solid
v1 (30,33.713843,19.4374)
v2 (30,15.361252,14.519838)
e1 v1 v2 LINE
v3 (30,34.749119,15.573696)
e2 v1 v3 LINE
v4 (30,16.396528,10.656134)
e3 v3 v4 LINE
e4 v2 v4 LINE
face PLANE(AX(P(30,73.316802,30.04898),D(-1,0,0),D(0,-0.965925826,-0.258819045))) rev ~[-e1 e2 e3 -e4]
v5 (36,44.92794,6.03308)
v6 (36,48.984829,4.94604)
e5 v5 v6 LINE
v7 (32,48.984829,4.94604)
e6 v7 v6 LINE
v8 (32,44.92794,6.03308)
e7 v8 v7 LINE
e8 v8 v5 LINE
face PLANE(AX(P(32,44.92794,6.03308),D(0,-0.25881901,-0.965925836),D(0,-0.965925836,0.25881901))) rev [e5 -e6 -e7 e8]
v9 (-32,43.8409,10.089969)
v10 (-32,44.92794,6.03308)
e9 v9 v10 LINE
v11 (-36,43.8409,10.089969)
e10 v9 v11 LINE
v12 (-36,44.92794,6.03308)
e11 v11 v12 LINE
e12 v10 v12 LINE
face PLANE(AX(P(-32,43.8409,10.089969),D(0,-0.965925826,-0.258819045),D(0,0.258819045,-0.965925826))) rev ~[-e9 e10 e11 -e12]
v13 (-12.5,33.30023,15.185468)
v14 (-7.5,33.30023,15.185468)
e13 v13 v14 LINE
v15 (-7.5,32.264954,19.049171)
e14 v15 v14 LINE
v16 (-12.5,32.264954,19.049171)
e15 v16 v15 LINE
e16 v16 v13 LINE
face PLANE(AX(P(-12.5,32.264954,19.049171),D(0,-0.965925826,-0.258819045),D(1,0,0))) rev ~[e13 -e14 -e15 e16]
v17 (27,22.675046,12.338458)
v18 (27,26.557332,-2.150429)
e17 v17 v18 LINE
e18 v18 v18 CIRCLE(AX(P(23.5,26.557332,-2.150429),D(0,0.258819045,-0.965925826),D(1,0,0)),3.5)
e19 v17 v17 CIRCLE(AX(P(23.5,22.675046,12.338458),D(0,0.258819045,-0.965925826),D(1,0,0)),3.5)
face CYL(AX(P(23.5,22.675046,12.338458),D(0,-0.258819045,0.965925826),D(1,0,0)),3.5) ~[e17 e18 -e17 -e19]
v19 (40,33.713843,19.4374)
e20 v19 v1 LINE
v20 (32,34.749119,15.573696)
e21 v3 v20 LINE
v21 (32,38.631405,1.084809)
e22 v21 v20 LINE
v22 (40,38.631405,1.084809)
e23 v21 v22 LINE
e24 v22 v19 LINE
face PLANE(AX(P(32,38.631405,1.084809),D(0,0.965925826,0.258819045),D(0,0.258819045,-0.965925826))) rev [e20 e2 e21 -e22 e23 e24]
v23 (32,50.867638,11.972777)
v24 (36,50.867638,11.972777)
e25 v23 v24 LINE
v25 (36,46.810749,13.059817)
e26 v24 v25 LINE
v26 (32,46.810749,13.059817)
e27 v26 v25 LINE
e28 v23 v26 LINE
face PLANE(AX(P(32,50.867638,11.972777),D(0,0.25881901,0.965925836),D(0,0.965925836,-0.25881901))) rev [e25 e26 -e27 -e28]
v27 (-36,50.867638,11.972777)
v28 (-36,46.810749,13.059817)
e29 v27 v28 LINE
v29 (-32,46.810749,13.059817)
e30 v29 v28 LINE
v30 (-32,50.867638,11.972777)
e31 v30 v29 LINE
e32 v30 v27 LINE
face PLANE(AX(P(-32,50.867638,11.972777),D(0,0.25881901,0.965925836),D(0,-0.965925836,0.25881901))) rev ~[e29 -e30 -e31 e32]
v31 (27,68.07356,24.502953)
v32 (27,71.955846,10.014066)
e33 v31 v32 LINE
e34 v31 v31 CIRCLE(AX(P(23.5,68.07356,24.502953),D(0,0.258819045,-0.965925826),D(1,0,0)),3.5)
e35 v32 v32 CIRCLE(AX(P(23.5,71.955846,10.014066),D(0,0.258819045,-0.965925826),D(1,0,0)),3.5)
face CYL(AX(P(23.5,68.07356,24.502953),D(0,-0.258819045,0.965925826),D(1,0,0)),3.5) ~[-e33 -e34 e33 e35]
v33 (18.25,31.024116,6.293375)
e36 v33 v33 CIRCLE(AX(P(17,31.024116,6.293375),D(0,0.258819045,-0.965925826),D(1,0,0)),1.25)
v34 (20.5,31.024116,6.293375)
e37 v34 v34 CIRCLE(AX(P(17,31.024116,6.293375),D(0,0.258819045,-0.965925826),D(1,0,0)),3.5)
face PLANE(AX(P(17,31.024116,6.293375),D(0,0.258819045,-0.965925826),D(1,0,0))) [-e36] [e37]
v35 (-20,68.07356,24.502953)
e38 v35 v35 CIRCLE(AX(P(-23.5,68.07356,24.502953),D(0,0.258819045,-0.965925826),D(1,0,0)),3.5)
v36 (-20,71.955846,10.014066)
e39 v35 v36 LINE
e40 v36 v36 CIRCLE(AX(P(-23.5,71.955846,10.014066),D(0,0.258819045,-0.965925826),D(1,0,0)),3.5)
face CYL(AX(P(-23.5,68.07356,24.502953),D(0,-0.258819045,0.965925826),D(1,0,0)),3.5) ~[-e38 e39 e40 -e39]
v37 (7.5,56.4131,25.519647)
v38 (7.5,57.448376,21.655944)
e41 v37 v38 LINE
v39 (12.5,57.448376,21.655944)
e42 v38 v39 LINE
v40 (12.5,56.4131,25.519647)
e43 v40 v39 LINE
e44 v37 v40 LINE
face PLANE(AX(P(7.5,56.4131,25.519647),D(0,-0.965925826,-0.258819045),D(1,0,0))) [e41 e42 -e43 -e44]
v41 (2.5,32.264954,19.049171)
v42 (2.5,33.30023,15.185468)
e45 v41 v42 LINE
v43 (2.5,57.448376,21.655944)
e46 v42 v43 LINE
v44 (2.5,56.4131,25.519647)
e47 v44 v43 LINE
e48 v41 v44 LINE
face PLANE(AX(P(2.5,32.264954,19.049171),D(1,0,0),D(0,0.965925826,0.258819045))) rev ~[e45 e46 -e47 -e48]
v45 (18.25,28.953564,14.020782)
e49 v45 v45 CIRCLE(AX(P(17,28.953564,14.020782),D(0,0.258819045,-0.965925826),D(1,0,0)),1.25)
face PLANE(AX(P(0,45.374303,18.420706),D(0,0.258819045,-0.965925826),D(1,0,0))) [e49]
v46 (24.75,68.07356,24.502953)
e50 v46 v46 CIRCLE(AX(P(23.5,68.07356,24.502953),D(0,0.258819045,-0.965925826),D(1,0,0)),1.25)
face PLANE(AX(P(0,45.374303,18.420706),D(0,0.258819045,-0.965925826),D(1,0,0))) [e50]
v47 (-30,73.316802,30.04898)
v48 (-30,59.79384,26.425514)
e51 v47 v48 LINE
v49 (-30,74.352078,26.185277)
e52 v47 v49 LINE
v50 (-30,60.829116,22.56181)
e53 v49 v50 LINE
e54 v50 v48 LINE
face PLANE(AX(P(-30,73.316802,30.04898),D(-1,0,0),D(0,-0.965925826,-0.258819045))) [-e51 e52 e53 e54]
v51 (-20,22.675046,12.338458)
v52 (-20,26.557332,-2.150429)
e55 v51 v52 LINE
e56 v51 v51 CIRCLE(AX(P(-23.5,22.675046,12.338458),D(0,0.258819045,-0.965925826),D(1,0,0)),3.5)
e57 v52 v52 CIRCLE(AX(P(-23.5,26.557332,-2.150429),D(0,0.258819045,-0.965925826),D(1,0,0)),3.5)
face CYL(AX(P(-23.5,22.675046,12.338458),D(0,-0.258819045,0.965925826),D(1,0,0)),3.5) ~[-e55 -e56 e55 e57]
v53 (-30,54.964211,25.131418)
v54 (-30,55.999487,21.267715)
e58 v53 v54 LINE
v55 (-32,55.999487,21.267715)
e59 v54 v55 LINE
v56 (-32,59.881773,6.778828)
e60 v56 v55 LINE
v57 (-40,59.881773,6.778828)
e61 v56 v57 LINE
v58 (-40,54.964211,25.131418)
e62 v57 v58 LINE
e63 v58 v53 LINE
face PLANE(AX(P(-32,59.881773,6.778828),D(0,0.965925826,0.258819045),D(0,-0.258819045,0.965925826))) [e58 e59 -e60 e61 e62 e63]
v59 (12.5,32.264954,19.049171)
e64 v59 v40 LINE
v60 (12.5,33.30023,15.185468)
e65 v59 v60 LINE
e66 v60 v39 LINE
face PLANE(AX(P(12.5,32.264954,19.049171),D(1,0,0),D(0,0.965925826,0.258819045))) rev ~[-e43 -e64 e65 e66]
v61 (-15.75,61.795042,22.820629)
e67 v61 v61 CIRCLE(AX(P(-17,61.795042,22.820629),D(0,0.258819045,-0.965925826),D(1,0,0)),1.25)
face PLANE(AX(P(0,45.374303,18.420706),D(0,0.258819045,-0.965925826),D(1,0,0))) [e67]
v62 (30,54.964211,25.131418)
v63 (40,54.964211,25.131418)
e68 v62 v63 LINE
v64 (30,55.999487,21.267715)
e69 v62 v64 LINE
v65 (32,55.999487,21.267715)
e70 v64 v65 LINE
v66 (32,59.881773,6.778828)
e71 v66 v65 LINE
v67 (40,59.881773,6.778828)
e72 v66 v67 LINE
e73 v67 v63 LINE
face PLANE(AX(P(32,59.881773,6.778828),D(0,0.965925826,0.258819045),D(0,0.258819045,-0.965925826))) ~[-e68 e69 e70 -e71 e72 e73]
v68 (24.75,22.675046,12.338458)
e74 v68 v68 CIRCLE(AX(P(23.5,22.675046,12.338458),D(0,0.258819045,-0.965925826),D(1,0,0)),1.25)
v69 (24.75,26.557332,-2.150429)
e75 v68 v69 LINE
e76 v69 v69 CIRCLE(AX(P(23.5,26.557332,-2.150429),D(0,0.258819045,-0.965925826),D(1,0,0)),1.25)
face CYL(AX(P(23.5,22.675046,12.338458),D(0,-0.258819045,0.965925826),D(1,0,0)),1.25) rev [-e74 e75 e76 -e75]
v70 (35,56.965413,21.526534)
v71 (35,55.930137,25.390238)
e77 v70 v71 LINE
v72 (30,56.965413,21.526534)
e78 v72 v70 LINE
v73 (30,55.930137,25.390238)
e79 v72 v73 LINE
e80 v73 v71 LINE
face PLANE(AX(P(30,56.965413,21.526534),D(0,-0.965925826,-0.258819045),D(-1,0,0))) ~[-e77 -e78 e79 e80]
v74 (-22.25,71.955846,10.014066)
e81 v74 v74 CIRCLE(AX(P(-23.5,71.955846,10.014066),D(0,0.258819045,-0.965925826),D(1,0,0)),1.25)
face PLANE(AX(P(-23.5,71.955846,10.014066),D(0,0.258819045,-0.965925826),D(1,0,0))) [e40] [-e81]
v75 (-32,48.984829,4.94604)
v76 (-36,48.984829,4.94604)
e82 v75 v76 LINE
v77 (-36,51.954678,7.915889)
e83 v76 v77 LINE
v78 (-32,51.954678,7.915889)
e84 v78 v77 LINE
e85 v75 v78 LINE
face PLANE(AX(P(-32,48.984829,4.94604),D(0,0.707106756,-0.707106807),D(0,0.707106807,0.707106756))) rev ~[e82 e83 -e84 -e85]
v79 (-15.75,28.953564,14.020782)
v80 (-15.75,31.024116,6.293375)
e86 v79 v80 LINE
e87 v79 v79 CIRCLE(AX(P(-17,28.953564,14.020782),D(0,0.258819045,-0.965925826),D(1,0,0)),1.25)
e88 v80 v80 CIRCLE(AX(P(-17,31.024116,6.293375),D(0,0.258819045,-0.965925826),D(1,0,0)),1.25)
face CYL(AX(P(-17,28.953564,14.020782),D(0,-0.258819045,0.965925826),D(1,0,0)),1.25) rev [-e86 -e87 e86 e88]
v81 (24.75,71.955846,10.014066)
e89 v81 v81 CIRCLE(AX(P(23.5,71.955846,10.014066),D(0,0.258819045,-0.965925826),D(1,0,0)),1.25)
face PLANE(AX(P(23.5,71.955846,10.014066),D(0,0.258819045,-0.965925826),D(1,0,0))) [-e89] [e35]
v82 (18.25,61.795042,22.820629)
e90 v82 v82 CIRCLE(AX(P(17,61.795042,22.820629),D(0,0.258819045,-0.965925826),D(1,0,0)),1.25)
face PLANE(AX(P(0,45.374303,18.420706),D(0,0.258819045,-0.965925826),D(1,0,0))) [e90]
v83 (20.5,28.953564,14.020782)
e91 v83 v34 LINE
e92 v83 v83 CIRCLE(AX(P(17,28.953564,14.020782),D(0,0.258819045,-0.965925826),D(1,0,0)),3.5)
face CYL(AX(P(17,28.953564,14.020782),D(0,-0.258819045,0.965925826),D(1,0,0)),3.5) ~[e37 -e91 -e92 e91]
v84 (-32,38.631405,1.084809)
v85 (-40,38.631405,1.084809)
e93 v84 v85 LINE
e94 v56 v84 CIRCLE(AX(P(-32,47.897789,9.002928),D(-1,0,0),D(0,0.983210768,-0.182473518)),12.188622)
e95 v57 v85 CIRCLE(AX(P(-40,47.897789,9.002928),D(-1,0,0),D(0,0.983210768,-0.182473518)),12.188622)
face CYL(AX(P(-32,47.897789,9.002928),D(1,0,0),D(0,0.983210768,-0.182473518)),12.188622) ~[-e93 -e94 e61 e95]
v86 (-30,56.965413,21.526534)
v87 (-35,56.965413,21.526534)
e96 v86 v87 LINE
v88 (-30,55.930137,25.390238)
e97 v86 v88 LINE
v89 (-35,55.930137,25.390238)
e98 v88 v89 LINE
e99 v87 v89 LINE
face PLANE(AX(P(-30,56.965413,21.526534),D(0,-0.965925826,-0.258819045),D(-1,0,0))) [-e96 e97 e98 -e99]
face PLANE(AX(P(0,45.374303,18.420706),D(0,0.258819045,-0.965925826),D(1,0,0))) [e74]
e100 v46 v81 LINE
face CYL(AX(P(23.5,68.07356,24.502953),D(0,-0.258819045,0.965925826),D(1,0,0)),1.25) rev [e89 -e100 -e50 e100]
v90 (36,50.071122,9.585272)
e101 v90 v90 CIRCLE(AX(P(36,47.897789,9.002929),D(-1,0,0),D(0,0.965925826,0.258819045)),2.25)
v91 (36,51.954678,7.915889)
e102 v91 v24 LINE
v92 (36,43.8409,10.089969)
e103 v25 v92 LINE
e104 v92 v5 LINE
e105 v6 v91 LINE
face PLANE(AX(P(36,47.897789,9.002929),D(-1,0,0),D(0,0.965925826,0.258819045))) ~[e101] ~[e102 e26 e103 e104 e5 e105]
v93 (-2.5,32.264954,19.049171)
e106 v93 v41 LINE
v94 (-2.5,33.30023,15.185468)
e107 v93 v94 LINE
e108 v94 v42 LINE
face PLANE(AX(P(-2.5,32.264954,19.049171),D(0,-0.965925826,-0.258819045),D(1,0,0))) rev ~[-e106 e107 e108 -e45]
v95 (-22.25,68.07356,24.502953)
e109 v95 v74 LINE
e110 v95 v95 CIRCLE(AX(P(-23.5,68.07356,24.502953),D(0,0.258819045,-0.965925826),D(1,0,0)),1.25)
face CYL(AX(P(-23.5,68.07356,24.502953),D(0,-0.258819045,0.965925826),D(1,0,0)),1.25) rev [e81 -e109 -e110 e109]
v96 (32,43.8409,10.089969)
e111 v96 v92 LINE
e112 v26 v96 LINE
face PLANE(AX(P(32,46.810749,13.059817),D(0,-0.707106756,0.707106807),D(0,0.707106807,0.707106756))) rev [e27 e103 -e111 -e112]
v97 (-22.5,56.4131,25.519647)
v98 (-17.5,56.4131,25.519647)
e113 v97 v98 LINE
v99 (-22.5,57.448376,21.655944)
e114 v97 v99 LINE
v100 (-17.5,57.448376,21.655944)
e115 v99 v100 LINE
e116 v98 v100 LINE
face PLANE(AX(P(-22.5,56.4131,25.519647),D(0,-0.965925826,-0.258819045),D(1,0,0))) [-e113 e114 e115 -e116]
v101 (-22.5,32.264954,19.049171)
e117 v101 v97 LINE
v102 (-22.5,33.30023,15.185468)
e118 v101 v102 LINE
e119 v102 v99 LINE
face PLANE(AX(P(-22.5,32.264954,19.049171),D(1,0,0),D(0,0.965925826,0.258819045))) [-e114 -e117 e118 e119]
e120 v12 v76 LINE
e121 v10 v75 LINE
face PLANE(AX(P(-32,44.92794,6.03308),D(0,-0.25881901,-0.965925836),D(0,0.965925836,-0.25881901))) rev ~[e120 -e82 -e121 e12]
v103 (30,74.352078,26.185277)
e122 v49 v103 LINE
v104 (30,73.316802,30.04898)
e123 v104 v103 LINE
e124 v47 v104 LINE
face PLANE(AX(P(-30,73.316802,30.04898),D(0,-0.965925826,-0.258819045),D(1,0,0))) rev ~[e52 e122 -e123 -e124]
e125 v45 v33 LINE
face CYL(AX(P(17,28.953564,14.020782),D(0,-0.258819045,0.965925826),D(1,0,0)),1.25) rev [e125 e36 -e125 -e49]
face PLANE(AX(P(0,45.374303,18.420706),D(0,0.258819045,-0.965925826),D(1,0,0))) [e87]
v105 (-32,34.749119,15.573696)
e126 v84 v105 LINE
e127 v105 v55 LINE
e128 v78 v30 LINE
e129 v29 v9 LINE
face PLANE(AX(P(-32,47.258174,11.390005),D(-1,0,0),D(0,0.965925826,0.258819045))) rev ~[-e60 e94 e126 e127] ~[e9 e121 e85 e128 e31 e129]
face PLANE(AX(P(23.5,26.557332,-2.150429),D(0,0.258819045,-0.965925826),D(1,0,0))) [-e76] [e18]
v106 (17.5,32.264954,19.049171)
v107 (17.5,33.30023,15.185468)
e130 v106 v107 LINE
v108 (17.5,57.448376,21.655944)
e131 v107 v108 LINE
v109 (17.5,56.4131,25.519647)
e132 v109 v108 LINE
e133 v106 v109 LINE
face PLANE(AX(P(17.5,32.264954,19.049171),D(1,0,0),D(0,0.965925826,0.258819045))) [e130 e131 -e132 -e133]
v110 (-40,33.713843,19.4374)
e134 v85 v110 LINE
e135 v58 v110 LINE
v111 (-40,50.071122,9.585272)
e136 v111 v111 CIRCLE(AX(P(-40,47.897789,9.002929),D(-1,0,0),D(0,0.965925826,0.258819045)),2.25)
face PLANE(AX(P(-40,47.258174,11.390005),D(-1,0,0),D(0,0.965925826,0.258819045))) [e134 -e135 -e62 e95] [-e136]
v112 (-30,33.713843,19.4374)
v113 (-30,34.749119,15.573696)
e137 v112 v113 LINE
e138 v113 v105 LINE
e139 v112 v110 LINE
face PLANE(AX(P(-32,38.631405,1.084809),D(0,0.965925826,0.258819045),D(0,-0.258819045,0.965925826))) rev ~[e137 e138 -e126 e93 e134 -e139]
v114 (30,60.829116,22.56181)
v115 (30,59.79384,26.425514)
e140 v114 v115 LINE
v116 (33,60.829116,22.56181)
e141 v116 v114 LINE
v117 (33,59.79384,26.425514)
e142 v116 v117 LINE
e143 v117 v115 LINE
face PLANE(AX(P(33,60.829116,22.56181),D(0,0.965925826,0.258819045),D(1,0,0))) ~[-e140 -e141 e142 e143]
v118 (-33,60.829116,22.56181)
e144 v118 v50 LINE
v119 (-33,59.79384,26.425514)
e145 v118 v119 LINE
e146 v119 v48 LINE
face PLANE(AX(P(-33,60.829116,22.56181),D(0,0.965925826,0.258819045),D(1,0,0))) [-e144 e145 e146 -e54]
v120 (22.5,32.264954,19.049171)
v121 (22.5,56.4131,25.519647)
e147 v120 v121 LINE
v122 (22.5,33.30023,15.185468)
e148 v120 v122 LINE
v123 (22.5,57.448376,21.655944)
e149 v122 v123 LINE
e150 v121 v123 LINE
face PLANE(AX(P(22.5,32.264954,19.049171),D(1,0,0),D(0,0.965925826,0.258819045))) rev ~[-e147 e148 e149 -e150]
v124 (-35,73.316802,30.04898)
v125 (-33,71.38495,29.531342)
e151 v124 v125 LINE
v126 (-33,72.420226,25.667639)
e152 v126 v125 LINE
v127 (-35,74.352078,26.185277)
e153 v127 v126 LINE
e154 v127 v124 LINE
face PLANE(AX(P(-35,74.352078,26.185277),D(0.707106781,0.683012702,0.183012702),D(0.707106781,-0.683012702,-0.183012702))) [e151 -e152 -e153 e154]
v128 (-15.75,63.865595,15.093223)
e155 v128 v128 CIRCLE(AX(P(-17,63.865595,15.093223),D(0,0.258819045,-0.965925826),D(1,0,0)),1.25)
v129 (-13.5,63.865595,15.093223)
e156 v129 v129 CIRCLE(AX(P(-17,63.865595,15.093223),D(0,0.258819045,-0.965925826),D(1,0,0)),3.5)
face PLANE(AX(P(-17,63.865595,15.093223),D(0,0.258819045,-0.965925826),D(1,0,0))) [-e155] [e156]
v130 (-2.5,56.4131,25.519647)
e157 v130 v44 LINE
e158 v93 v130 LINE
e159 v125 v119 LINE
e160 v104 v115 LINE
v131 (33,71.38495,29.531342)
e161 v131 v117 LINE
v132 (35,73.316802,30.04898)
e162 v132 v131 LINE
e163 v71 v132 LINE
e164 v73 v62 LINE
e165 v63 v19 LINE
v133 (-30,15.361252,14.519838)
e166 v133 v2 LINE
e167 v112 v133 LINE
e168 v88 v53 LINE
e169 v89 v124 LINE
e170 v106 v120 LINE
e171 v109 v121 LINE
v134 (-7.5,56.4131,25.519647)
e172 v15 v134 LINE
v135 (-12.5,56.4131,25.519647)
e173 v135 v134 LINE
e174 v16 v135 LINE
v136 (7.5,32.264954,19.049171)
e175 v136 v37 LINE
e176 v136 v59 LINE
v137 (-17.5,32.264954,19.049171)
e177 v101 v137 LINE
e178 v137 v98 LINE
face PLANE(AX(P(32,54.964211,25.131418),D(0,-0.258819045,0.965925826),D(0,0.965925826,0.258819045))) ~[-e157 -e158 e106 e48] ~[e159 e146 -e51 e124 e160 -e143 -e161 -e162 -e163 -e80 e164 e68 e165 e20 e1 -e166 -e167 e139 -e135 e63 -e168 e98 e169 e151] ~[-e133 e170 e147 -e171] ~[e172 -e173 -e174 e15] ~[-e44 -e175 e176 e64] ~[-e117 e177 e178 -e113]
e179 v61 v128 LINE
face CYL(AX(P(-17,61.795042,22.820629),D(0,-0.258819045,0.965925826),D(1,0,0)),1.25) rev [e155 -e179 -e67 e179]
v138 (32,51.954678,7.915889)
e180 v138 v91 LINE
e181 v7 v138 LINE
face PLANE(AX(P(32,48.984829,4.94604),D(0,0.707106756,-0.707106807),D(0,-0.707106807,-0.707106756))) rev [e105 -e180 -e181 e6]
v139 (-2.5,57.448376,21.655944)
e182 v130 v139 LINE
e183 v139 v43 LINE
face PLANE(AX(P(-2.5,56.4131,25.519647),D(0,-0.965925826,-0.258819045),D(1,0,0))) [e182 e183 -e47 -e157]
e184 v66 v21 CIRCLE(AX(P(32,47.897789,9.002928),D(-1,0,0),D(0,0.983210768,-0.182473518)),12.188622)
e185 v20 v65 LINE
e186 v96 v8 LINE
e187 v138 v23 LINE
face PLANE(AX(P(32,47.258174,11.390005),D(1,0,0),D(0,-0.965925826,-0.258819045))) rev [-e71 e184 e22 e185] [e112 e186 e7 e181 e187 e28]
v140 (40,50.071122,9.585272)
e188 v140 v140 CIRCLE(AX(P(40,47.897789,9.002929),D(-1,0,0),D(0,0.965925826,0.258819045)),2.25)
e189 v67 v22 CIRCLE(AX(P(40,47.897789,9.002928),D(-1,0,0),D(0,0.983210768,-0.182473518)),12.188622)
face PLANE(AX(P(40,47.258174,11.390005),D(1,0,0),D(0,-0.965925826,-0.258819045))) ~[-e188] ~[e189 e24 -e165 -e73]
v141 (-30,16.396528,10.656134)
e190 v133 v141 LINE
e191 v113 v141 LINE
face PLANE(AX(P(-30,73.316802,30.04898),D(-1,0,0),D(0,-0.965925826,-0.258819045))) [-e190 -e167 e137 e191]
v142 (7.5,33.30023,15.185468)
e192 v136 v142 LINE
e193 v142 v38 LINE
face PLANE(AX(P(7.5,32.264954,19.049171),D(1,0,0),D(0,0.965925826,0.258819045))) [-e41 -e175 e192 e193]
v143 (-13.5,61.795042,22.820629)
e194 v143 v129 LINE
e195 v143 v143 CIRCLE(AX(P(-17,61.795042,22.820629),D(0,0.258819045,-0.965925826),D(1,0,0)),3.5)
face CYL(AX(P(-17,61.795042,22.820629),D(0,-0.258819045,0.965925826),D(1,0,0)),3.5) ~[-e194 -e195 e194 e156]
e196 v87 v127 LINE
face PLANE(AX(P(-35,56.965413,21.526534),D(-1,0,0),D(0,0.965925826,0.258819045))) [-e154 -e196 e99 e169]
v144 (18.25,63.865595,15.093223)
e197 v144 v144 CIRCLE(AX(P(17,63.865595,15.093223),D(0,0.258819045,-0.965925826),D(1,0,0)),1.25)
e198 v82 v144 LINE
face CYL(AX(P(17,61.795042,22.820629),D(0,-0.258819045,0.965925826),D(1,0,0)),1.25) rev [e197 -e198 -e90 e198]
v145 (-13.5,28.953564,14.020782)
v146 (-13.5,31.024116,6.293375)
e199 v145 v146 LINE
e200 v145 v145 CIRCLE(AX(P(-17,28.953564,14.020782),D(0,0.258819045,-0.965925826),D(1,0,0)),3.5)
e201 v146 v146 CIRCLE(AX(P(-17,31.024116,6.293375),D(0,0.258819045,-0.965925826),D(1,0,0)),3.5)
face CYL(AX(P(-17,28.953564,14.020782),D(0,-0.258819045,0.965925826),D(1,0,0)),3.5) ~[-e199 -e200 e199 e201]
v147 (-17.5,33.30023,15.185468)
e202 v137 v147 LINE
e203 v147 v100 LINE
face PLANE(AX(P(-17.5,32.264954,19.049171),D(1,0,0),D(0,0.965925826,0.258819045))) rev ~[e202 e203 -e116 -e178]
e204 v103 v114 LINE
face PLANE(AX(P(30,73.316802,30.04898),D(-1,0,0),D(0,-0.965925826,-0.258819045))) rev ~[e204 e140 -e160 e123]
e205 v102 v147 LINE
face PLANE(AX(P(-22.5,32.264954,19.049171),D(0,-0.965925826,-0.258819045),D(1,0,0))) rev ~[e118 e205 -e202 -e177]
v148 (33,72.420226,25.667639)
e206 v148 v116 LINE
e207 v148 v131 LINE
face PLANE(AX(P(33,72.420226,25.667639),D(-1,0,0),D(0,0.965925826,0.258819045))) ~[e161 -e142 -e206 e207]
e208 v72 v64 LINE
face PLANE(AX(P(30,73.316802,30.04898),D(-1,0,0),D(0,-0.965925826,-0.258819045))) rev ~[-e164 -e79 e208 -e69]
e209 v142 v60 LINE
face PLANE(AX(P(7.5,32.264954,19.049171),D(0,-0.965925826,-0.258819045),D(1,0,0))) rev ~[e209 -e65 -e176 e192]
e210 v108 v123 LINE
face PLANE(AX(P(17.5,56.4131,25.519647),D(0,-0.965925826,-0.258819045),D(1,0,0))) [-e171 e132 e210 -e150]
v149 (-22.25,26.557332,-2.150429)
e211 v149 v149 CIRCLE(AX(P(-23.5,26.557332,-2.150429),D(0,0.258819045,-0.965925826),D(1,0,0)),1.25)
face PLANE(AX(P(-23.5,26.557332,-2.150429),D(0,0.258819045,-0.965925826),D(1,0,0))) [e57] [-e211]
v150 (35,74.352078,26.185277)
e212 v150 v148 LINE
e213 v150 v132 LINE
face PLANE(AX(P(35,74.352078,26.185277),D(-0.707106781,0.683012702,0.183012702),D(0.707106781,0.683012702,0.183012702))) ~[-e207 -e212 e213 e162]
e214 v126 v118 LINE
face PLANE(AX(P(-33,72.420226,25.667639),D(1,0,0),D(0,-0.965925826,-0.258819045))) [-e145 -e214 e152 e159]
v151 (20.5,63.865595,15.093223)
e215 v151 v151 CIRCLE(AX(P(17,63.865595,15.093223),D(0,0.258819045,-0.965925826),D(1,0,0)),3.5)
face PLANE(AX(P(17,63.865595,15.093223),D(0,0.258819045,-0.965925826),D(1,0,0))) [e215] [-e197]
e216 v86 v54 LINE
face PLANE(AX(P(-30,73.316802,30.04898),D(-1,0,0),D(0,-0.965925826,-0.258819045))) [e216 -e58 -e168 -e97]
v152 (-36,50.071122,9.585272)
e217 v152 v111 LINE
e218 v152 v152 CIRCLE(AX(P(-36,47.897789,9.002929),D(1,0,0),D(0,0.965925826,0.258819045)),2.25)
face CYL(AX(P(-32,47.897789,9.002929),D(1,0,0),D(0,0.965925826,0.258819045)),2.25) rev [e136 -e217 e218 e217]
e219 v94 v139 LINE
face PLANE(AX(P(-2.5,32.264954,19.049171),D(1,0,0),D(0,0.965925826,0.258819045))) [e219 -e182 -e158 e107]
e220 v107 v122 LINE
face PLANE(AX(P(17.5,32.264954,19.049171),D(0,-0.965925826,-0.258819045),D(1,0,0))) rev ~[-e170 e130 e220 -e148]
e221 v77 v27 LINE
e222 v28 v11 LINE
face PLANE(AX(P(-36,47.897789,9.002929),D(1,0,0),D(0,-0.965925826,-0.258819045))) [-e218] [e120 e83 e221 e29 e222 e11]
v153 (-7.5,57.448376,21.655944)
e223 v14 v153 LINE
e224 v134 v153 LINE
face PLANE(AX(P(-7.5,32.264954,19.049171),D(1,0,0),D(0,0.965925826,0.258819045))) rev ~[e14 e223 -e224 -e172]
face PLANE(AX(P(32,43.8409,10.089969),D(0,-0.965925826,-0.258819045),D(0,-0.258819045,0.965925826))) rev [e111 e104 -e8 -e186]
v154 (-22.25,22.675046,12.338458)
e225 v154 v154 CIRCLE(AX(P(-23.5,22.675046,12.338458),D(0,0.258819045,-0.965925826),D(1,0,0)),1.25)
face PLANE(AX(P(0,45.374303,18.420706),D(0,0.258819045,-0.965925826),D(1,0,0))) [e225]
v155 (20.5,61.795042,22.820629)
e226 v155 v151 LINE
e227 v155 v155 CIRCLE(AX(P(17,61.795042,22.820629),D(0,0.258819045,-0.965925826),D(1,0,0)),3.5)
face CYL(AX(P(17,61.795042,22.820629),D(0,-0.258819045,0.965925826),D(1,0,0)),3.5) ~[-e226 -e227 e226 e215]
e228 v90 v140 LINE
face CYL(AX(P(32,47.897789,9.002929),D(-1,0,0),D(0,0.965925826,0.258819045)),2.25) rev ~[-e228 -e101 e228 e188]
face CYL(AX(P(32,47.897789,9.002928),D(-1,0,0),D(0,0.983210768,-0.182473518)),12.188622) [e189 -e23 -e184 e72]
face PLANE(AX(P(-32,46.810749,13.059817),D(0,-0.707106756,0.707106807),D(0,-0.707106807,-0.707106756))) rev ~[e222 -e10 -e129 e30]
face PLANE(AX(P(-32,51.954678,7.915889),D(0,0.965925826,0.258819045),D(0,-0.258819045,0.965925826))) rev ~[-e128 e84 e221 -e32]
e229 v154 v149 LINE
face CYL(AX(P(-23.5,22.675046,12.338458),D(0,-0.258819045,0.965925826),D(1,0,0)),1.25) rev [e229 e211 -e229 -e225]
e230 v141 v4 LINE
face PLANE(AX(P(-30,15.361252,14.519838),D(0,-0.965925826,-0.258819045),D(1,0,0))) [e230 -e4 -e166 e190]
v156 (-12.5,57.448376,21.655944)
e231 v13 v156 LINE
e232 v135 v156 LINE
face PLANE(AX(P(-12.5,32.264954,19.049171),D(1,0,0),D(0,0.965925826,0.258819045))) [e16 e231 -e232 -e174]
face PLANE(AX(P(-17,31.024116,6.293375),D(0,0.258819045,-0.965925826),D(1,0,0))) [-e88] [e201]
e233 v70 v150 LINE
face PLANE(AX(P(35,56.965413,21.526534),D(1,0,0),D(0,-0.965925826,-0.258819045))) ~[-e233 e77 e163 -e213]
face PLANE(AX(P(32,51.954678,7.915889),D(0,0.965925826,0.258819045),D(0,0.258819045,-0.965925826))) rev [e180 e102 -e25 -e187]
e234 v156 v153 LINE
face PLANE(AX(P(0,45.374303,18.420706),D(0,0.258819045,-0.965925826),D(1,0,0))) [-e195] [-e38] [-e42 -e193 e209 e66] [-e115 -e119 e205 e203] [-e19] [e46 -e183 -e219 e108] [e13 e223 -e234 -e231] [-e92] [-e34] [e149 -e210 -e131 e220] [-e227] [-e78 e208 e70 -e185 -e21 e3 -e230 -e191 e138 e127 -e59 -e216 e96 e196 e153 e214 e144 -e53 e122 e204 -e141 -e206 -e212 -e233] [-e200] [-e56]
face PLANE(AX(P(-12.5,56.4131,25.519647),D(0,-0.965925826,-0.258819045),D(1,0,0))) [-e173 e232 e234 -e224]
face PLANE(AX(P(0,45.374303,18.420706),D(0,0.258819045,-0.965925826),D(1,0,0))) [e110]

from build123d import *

# Parameters (mm, degrees)
SKETCH_W             = 60
SKETCH_H             = 60
PAD_DEPTH            = 4
SKETCH001_R          = 3.5
SKETCH001_R_2        = 1.25
PAD001_DEPTH         = 8
SKETCH009_W          = 5
SKETCH009_H          = 25
POCKET008_DEPTH      = 4
PAD006_DEPTH         = 4
SKETCH015_W          = 22
SKETCH015_H          = 4
PAD007_DEPTH         = 2
SKETCH003_R          = 2.25
PAD008_DEPTH         = 8
SKETCH014_R          = 3.5
SKETCH014_R_2        = 1.25
PAD009_DEPTH         = 15
POCKET_DEPTH         = 4
BODY_PLACEMENT_ANGLE = 195


with BuildPart() as part:
    # Sketch → Pad (new body)
    with BuildSketch(Plane.XY):
        Rectangle(SKETCH_W, SKETCH_H)
    extrude(amount=PAD_DEPTH)

    # Sketch001 (on Face6 of Pad) → Pad001 (join)
    with BuildSketch(Plane.XY.offset(4)):
        with Locations((-17, 17)):
            Circle(SKETCH001_R)
        with Locations((-17, 17)):
            Circle(SKETCH001_R_2, mode=Mode.SUBTRACT)
        with Locations((-17, -17)):
            Circle(SKETCH001_R)
        with Locations((-17, -17)):
            Circle(SKETCH001_R_2, mode=Mode.SUBTRACT)
        with Locations((17, -17)):
            Circle(SKETCH001_R)
        with Locations((17, -17)):
            Circle(SKETCH001_R_2, mode=Mode.SUBTRACT)
        with Locations((17, 17)):
            Circle(SKETCH001_R)
        with Locations((17, 17)):
            Circle(SKETCH001_R_2, mode=Mode.SUBTRACT)
    extrude(amount=PAD001_DEPTH)

    # Sketch009 → Pocket008 (cut)
    with BuildSketch(Plane(origin=(0, 0, 0), x_dir=(1, 0, 0), z_dir=(0, 0, -1))):
        Rectangle(SKETCH009_W, SKETCH009_H)
        with Locations((10, 0)):
            Rectangle(SKETCH009_W, SKETCH009_H)
        with Locations((20, 0)):
            Rectangle(SKETCH009_W, SKETCH009_H)
        with Locations((-10, 0)):
            Rectangle(SKETCH009_W, SKETCH009_H)
        with Locations((-20, 0)):
            Rectangle(SKETCH009_W, SKETCH009_H)
    extrude(amount=-POCKET008_DEPTH, mode=Mode.SUBTRACT)

    # Sketch012 (on Face5 of Pocket008) → Pad006 (join)
    with BuildSketch(Plane.XY.offset(4)):
        Polygon((-30, -12), (-35, -12), (-35, -30), (-33, -28), (-33, -16), (-30, -16), align=None)
    pad006 = extrude(amount=-PAD006_DEPTH)

    # Mirrored005: Pad006 across Sketch012 V_Axis
    add(pad006.mirror(Plane(origin=(0, 0, 4), x_dir=(0, 0, 1), z_dir=(1, 0, 0))))

    # Sketch015 (on Face4 of Pad) → Pad007 (join)
    with BuildSketch(Plane(origin=(-30, 0, 0), x_dir=(0, -1, 0), z_dir=(-1, 0, 0))):
        with Locations((0, 2)):
            Rectangle(SKETCH015_W, SKETCH015_H)
    pad007 = extrude(amount=PAD007_DEPTH)

    # Sketch003 (on Face42 of Pad007) → Pad008 (join)
    with BuildSketch(Plane(origin=(-32, 0, 0), x_dir=(0, -1, 0), z_dir=(-1, 0, 0))):
        with BuildLine():
            ThreePointArc((11, 19), (0, 25.938622), (-11, 19))
            Line((-11, 19), (-11, 0))
            Line((11, 0), (-11, 0))
            Line((11, 19), (11, 0))
        make_face()
        with Locations((0, 13.75)):
            Circle(SKETCH003_R, mode=Mode.SUBTRACT)
    pad008 = extrude(amount=PAD008_DEPTH)

    # Sketch014 → Pad009 (join)
    with BuildSketch(Plane.XY.offset(4)):
        with Locations((-23.5, 23.5)):
            Circle(SKETCH014_R)
        with Locations((-23.5, 23.5)):
            Circle(SKETCH014_R_2, mode=Mode.SUBTRACT)
        with Locations((23.5, 23.5)):
            Circle(SKETCH014_R)
        with Locations((23.5, 23.5)):
            Circle(SKETCH014_R_2, mode=Mode.SUBTRACT)
        with Locations((23.5, -23.5)):
            Circle(SKETCH014_R)
        with Locations((23.5, -23.5)):
            Circle(SKETCH014_R_2, mode=Mode.SUBTRACT)
        with Locations((-23.5, -23.5)):
            Circle(SKETCH014_R)
        with Locations((-23.5, -23.5)):
            Circle(SKETCH014_R_2, mode=Mode.SUBTRACT)
    extrude(amount=PAD009_DEPTH)

    # Sketch016 (on Face58 of Pad009) → Pocket (cut)
    with BuildSketch(Plane.YZ.offset(-32)):
        Polygon((-3.637307, 15.85), (-3.637307, 11.65), (0, 9.55), (3.637307, 11.65), (3.637307, 15.85), (0, 17.95), align=None)
    pocket = extrude(amount=-POCKET_DEPTH, mode=Mode.SUBTRACT)

    # Mirrored: Pad007, Pad008 across YZ
    add(pad007.mirror(Plane.YZ))
    add(pad008.mirror(Plane.YZ))

    # Mirrored006: Pocket across YZ
    add(pocket.mirror(Plane.YZ), mode=Mode.SUBTRACT)


with BuildPart() as part_1:
    # Body placement: moved
    add(part.part.moved(Location((0, 44.339027, 22.284409))).rotate(Axis((0, 44.339027, 22.284409), (1, 0, 0)), BODY_PLACEMENT_ANGLE))


solid = part_1.part
